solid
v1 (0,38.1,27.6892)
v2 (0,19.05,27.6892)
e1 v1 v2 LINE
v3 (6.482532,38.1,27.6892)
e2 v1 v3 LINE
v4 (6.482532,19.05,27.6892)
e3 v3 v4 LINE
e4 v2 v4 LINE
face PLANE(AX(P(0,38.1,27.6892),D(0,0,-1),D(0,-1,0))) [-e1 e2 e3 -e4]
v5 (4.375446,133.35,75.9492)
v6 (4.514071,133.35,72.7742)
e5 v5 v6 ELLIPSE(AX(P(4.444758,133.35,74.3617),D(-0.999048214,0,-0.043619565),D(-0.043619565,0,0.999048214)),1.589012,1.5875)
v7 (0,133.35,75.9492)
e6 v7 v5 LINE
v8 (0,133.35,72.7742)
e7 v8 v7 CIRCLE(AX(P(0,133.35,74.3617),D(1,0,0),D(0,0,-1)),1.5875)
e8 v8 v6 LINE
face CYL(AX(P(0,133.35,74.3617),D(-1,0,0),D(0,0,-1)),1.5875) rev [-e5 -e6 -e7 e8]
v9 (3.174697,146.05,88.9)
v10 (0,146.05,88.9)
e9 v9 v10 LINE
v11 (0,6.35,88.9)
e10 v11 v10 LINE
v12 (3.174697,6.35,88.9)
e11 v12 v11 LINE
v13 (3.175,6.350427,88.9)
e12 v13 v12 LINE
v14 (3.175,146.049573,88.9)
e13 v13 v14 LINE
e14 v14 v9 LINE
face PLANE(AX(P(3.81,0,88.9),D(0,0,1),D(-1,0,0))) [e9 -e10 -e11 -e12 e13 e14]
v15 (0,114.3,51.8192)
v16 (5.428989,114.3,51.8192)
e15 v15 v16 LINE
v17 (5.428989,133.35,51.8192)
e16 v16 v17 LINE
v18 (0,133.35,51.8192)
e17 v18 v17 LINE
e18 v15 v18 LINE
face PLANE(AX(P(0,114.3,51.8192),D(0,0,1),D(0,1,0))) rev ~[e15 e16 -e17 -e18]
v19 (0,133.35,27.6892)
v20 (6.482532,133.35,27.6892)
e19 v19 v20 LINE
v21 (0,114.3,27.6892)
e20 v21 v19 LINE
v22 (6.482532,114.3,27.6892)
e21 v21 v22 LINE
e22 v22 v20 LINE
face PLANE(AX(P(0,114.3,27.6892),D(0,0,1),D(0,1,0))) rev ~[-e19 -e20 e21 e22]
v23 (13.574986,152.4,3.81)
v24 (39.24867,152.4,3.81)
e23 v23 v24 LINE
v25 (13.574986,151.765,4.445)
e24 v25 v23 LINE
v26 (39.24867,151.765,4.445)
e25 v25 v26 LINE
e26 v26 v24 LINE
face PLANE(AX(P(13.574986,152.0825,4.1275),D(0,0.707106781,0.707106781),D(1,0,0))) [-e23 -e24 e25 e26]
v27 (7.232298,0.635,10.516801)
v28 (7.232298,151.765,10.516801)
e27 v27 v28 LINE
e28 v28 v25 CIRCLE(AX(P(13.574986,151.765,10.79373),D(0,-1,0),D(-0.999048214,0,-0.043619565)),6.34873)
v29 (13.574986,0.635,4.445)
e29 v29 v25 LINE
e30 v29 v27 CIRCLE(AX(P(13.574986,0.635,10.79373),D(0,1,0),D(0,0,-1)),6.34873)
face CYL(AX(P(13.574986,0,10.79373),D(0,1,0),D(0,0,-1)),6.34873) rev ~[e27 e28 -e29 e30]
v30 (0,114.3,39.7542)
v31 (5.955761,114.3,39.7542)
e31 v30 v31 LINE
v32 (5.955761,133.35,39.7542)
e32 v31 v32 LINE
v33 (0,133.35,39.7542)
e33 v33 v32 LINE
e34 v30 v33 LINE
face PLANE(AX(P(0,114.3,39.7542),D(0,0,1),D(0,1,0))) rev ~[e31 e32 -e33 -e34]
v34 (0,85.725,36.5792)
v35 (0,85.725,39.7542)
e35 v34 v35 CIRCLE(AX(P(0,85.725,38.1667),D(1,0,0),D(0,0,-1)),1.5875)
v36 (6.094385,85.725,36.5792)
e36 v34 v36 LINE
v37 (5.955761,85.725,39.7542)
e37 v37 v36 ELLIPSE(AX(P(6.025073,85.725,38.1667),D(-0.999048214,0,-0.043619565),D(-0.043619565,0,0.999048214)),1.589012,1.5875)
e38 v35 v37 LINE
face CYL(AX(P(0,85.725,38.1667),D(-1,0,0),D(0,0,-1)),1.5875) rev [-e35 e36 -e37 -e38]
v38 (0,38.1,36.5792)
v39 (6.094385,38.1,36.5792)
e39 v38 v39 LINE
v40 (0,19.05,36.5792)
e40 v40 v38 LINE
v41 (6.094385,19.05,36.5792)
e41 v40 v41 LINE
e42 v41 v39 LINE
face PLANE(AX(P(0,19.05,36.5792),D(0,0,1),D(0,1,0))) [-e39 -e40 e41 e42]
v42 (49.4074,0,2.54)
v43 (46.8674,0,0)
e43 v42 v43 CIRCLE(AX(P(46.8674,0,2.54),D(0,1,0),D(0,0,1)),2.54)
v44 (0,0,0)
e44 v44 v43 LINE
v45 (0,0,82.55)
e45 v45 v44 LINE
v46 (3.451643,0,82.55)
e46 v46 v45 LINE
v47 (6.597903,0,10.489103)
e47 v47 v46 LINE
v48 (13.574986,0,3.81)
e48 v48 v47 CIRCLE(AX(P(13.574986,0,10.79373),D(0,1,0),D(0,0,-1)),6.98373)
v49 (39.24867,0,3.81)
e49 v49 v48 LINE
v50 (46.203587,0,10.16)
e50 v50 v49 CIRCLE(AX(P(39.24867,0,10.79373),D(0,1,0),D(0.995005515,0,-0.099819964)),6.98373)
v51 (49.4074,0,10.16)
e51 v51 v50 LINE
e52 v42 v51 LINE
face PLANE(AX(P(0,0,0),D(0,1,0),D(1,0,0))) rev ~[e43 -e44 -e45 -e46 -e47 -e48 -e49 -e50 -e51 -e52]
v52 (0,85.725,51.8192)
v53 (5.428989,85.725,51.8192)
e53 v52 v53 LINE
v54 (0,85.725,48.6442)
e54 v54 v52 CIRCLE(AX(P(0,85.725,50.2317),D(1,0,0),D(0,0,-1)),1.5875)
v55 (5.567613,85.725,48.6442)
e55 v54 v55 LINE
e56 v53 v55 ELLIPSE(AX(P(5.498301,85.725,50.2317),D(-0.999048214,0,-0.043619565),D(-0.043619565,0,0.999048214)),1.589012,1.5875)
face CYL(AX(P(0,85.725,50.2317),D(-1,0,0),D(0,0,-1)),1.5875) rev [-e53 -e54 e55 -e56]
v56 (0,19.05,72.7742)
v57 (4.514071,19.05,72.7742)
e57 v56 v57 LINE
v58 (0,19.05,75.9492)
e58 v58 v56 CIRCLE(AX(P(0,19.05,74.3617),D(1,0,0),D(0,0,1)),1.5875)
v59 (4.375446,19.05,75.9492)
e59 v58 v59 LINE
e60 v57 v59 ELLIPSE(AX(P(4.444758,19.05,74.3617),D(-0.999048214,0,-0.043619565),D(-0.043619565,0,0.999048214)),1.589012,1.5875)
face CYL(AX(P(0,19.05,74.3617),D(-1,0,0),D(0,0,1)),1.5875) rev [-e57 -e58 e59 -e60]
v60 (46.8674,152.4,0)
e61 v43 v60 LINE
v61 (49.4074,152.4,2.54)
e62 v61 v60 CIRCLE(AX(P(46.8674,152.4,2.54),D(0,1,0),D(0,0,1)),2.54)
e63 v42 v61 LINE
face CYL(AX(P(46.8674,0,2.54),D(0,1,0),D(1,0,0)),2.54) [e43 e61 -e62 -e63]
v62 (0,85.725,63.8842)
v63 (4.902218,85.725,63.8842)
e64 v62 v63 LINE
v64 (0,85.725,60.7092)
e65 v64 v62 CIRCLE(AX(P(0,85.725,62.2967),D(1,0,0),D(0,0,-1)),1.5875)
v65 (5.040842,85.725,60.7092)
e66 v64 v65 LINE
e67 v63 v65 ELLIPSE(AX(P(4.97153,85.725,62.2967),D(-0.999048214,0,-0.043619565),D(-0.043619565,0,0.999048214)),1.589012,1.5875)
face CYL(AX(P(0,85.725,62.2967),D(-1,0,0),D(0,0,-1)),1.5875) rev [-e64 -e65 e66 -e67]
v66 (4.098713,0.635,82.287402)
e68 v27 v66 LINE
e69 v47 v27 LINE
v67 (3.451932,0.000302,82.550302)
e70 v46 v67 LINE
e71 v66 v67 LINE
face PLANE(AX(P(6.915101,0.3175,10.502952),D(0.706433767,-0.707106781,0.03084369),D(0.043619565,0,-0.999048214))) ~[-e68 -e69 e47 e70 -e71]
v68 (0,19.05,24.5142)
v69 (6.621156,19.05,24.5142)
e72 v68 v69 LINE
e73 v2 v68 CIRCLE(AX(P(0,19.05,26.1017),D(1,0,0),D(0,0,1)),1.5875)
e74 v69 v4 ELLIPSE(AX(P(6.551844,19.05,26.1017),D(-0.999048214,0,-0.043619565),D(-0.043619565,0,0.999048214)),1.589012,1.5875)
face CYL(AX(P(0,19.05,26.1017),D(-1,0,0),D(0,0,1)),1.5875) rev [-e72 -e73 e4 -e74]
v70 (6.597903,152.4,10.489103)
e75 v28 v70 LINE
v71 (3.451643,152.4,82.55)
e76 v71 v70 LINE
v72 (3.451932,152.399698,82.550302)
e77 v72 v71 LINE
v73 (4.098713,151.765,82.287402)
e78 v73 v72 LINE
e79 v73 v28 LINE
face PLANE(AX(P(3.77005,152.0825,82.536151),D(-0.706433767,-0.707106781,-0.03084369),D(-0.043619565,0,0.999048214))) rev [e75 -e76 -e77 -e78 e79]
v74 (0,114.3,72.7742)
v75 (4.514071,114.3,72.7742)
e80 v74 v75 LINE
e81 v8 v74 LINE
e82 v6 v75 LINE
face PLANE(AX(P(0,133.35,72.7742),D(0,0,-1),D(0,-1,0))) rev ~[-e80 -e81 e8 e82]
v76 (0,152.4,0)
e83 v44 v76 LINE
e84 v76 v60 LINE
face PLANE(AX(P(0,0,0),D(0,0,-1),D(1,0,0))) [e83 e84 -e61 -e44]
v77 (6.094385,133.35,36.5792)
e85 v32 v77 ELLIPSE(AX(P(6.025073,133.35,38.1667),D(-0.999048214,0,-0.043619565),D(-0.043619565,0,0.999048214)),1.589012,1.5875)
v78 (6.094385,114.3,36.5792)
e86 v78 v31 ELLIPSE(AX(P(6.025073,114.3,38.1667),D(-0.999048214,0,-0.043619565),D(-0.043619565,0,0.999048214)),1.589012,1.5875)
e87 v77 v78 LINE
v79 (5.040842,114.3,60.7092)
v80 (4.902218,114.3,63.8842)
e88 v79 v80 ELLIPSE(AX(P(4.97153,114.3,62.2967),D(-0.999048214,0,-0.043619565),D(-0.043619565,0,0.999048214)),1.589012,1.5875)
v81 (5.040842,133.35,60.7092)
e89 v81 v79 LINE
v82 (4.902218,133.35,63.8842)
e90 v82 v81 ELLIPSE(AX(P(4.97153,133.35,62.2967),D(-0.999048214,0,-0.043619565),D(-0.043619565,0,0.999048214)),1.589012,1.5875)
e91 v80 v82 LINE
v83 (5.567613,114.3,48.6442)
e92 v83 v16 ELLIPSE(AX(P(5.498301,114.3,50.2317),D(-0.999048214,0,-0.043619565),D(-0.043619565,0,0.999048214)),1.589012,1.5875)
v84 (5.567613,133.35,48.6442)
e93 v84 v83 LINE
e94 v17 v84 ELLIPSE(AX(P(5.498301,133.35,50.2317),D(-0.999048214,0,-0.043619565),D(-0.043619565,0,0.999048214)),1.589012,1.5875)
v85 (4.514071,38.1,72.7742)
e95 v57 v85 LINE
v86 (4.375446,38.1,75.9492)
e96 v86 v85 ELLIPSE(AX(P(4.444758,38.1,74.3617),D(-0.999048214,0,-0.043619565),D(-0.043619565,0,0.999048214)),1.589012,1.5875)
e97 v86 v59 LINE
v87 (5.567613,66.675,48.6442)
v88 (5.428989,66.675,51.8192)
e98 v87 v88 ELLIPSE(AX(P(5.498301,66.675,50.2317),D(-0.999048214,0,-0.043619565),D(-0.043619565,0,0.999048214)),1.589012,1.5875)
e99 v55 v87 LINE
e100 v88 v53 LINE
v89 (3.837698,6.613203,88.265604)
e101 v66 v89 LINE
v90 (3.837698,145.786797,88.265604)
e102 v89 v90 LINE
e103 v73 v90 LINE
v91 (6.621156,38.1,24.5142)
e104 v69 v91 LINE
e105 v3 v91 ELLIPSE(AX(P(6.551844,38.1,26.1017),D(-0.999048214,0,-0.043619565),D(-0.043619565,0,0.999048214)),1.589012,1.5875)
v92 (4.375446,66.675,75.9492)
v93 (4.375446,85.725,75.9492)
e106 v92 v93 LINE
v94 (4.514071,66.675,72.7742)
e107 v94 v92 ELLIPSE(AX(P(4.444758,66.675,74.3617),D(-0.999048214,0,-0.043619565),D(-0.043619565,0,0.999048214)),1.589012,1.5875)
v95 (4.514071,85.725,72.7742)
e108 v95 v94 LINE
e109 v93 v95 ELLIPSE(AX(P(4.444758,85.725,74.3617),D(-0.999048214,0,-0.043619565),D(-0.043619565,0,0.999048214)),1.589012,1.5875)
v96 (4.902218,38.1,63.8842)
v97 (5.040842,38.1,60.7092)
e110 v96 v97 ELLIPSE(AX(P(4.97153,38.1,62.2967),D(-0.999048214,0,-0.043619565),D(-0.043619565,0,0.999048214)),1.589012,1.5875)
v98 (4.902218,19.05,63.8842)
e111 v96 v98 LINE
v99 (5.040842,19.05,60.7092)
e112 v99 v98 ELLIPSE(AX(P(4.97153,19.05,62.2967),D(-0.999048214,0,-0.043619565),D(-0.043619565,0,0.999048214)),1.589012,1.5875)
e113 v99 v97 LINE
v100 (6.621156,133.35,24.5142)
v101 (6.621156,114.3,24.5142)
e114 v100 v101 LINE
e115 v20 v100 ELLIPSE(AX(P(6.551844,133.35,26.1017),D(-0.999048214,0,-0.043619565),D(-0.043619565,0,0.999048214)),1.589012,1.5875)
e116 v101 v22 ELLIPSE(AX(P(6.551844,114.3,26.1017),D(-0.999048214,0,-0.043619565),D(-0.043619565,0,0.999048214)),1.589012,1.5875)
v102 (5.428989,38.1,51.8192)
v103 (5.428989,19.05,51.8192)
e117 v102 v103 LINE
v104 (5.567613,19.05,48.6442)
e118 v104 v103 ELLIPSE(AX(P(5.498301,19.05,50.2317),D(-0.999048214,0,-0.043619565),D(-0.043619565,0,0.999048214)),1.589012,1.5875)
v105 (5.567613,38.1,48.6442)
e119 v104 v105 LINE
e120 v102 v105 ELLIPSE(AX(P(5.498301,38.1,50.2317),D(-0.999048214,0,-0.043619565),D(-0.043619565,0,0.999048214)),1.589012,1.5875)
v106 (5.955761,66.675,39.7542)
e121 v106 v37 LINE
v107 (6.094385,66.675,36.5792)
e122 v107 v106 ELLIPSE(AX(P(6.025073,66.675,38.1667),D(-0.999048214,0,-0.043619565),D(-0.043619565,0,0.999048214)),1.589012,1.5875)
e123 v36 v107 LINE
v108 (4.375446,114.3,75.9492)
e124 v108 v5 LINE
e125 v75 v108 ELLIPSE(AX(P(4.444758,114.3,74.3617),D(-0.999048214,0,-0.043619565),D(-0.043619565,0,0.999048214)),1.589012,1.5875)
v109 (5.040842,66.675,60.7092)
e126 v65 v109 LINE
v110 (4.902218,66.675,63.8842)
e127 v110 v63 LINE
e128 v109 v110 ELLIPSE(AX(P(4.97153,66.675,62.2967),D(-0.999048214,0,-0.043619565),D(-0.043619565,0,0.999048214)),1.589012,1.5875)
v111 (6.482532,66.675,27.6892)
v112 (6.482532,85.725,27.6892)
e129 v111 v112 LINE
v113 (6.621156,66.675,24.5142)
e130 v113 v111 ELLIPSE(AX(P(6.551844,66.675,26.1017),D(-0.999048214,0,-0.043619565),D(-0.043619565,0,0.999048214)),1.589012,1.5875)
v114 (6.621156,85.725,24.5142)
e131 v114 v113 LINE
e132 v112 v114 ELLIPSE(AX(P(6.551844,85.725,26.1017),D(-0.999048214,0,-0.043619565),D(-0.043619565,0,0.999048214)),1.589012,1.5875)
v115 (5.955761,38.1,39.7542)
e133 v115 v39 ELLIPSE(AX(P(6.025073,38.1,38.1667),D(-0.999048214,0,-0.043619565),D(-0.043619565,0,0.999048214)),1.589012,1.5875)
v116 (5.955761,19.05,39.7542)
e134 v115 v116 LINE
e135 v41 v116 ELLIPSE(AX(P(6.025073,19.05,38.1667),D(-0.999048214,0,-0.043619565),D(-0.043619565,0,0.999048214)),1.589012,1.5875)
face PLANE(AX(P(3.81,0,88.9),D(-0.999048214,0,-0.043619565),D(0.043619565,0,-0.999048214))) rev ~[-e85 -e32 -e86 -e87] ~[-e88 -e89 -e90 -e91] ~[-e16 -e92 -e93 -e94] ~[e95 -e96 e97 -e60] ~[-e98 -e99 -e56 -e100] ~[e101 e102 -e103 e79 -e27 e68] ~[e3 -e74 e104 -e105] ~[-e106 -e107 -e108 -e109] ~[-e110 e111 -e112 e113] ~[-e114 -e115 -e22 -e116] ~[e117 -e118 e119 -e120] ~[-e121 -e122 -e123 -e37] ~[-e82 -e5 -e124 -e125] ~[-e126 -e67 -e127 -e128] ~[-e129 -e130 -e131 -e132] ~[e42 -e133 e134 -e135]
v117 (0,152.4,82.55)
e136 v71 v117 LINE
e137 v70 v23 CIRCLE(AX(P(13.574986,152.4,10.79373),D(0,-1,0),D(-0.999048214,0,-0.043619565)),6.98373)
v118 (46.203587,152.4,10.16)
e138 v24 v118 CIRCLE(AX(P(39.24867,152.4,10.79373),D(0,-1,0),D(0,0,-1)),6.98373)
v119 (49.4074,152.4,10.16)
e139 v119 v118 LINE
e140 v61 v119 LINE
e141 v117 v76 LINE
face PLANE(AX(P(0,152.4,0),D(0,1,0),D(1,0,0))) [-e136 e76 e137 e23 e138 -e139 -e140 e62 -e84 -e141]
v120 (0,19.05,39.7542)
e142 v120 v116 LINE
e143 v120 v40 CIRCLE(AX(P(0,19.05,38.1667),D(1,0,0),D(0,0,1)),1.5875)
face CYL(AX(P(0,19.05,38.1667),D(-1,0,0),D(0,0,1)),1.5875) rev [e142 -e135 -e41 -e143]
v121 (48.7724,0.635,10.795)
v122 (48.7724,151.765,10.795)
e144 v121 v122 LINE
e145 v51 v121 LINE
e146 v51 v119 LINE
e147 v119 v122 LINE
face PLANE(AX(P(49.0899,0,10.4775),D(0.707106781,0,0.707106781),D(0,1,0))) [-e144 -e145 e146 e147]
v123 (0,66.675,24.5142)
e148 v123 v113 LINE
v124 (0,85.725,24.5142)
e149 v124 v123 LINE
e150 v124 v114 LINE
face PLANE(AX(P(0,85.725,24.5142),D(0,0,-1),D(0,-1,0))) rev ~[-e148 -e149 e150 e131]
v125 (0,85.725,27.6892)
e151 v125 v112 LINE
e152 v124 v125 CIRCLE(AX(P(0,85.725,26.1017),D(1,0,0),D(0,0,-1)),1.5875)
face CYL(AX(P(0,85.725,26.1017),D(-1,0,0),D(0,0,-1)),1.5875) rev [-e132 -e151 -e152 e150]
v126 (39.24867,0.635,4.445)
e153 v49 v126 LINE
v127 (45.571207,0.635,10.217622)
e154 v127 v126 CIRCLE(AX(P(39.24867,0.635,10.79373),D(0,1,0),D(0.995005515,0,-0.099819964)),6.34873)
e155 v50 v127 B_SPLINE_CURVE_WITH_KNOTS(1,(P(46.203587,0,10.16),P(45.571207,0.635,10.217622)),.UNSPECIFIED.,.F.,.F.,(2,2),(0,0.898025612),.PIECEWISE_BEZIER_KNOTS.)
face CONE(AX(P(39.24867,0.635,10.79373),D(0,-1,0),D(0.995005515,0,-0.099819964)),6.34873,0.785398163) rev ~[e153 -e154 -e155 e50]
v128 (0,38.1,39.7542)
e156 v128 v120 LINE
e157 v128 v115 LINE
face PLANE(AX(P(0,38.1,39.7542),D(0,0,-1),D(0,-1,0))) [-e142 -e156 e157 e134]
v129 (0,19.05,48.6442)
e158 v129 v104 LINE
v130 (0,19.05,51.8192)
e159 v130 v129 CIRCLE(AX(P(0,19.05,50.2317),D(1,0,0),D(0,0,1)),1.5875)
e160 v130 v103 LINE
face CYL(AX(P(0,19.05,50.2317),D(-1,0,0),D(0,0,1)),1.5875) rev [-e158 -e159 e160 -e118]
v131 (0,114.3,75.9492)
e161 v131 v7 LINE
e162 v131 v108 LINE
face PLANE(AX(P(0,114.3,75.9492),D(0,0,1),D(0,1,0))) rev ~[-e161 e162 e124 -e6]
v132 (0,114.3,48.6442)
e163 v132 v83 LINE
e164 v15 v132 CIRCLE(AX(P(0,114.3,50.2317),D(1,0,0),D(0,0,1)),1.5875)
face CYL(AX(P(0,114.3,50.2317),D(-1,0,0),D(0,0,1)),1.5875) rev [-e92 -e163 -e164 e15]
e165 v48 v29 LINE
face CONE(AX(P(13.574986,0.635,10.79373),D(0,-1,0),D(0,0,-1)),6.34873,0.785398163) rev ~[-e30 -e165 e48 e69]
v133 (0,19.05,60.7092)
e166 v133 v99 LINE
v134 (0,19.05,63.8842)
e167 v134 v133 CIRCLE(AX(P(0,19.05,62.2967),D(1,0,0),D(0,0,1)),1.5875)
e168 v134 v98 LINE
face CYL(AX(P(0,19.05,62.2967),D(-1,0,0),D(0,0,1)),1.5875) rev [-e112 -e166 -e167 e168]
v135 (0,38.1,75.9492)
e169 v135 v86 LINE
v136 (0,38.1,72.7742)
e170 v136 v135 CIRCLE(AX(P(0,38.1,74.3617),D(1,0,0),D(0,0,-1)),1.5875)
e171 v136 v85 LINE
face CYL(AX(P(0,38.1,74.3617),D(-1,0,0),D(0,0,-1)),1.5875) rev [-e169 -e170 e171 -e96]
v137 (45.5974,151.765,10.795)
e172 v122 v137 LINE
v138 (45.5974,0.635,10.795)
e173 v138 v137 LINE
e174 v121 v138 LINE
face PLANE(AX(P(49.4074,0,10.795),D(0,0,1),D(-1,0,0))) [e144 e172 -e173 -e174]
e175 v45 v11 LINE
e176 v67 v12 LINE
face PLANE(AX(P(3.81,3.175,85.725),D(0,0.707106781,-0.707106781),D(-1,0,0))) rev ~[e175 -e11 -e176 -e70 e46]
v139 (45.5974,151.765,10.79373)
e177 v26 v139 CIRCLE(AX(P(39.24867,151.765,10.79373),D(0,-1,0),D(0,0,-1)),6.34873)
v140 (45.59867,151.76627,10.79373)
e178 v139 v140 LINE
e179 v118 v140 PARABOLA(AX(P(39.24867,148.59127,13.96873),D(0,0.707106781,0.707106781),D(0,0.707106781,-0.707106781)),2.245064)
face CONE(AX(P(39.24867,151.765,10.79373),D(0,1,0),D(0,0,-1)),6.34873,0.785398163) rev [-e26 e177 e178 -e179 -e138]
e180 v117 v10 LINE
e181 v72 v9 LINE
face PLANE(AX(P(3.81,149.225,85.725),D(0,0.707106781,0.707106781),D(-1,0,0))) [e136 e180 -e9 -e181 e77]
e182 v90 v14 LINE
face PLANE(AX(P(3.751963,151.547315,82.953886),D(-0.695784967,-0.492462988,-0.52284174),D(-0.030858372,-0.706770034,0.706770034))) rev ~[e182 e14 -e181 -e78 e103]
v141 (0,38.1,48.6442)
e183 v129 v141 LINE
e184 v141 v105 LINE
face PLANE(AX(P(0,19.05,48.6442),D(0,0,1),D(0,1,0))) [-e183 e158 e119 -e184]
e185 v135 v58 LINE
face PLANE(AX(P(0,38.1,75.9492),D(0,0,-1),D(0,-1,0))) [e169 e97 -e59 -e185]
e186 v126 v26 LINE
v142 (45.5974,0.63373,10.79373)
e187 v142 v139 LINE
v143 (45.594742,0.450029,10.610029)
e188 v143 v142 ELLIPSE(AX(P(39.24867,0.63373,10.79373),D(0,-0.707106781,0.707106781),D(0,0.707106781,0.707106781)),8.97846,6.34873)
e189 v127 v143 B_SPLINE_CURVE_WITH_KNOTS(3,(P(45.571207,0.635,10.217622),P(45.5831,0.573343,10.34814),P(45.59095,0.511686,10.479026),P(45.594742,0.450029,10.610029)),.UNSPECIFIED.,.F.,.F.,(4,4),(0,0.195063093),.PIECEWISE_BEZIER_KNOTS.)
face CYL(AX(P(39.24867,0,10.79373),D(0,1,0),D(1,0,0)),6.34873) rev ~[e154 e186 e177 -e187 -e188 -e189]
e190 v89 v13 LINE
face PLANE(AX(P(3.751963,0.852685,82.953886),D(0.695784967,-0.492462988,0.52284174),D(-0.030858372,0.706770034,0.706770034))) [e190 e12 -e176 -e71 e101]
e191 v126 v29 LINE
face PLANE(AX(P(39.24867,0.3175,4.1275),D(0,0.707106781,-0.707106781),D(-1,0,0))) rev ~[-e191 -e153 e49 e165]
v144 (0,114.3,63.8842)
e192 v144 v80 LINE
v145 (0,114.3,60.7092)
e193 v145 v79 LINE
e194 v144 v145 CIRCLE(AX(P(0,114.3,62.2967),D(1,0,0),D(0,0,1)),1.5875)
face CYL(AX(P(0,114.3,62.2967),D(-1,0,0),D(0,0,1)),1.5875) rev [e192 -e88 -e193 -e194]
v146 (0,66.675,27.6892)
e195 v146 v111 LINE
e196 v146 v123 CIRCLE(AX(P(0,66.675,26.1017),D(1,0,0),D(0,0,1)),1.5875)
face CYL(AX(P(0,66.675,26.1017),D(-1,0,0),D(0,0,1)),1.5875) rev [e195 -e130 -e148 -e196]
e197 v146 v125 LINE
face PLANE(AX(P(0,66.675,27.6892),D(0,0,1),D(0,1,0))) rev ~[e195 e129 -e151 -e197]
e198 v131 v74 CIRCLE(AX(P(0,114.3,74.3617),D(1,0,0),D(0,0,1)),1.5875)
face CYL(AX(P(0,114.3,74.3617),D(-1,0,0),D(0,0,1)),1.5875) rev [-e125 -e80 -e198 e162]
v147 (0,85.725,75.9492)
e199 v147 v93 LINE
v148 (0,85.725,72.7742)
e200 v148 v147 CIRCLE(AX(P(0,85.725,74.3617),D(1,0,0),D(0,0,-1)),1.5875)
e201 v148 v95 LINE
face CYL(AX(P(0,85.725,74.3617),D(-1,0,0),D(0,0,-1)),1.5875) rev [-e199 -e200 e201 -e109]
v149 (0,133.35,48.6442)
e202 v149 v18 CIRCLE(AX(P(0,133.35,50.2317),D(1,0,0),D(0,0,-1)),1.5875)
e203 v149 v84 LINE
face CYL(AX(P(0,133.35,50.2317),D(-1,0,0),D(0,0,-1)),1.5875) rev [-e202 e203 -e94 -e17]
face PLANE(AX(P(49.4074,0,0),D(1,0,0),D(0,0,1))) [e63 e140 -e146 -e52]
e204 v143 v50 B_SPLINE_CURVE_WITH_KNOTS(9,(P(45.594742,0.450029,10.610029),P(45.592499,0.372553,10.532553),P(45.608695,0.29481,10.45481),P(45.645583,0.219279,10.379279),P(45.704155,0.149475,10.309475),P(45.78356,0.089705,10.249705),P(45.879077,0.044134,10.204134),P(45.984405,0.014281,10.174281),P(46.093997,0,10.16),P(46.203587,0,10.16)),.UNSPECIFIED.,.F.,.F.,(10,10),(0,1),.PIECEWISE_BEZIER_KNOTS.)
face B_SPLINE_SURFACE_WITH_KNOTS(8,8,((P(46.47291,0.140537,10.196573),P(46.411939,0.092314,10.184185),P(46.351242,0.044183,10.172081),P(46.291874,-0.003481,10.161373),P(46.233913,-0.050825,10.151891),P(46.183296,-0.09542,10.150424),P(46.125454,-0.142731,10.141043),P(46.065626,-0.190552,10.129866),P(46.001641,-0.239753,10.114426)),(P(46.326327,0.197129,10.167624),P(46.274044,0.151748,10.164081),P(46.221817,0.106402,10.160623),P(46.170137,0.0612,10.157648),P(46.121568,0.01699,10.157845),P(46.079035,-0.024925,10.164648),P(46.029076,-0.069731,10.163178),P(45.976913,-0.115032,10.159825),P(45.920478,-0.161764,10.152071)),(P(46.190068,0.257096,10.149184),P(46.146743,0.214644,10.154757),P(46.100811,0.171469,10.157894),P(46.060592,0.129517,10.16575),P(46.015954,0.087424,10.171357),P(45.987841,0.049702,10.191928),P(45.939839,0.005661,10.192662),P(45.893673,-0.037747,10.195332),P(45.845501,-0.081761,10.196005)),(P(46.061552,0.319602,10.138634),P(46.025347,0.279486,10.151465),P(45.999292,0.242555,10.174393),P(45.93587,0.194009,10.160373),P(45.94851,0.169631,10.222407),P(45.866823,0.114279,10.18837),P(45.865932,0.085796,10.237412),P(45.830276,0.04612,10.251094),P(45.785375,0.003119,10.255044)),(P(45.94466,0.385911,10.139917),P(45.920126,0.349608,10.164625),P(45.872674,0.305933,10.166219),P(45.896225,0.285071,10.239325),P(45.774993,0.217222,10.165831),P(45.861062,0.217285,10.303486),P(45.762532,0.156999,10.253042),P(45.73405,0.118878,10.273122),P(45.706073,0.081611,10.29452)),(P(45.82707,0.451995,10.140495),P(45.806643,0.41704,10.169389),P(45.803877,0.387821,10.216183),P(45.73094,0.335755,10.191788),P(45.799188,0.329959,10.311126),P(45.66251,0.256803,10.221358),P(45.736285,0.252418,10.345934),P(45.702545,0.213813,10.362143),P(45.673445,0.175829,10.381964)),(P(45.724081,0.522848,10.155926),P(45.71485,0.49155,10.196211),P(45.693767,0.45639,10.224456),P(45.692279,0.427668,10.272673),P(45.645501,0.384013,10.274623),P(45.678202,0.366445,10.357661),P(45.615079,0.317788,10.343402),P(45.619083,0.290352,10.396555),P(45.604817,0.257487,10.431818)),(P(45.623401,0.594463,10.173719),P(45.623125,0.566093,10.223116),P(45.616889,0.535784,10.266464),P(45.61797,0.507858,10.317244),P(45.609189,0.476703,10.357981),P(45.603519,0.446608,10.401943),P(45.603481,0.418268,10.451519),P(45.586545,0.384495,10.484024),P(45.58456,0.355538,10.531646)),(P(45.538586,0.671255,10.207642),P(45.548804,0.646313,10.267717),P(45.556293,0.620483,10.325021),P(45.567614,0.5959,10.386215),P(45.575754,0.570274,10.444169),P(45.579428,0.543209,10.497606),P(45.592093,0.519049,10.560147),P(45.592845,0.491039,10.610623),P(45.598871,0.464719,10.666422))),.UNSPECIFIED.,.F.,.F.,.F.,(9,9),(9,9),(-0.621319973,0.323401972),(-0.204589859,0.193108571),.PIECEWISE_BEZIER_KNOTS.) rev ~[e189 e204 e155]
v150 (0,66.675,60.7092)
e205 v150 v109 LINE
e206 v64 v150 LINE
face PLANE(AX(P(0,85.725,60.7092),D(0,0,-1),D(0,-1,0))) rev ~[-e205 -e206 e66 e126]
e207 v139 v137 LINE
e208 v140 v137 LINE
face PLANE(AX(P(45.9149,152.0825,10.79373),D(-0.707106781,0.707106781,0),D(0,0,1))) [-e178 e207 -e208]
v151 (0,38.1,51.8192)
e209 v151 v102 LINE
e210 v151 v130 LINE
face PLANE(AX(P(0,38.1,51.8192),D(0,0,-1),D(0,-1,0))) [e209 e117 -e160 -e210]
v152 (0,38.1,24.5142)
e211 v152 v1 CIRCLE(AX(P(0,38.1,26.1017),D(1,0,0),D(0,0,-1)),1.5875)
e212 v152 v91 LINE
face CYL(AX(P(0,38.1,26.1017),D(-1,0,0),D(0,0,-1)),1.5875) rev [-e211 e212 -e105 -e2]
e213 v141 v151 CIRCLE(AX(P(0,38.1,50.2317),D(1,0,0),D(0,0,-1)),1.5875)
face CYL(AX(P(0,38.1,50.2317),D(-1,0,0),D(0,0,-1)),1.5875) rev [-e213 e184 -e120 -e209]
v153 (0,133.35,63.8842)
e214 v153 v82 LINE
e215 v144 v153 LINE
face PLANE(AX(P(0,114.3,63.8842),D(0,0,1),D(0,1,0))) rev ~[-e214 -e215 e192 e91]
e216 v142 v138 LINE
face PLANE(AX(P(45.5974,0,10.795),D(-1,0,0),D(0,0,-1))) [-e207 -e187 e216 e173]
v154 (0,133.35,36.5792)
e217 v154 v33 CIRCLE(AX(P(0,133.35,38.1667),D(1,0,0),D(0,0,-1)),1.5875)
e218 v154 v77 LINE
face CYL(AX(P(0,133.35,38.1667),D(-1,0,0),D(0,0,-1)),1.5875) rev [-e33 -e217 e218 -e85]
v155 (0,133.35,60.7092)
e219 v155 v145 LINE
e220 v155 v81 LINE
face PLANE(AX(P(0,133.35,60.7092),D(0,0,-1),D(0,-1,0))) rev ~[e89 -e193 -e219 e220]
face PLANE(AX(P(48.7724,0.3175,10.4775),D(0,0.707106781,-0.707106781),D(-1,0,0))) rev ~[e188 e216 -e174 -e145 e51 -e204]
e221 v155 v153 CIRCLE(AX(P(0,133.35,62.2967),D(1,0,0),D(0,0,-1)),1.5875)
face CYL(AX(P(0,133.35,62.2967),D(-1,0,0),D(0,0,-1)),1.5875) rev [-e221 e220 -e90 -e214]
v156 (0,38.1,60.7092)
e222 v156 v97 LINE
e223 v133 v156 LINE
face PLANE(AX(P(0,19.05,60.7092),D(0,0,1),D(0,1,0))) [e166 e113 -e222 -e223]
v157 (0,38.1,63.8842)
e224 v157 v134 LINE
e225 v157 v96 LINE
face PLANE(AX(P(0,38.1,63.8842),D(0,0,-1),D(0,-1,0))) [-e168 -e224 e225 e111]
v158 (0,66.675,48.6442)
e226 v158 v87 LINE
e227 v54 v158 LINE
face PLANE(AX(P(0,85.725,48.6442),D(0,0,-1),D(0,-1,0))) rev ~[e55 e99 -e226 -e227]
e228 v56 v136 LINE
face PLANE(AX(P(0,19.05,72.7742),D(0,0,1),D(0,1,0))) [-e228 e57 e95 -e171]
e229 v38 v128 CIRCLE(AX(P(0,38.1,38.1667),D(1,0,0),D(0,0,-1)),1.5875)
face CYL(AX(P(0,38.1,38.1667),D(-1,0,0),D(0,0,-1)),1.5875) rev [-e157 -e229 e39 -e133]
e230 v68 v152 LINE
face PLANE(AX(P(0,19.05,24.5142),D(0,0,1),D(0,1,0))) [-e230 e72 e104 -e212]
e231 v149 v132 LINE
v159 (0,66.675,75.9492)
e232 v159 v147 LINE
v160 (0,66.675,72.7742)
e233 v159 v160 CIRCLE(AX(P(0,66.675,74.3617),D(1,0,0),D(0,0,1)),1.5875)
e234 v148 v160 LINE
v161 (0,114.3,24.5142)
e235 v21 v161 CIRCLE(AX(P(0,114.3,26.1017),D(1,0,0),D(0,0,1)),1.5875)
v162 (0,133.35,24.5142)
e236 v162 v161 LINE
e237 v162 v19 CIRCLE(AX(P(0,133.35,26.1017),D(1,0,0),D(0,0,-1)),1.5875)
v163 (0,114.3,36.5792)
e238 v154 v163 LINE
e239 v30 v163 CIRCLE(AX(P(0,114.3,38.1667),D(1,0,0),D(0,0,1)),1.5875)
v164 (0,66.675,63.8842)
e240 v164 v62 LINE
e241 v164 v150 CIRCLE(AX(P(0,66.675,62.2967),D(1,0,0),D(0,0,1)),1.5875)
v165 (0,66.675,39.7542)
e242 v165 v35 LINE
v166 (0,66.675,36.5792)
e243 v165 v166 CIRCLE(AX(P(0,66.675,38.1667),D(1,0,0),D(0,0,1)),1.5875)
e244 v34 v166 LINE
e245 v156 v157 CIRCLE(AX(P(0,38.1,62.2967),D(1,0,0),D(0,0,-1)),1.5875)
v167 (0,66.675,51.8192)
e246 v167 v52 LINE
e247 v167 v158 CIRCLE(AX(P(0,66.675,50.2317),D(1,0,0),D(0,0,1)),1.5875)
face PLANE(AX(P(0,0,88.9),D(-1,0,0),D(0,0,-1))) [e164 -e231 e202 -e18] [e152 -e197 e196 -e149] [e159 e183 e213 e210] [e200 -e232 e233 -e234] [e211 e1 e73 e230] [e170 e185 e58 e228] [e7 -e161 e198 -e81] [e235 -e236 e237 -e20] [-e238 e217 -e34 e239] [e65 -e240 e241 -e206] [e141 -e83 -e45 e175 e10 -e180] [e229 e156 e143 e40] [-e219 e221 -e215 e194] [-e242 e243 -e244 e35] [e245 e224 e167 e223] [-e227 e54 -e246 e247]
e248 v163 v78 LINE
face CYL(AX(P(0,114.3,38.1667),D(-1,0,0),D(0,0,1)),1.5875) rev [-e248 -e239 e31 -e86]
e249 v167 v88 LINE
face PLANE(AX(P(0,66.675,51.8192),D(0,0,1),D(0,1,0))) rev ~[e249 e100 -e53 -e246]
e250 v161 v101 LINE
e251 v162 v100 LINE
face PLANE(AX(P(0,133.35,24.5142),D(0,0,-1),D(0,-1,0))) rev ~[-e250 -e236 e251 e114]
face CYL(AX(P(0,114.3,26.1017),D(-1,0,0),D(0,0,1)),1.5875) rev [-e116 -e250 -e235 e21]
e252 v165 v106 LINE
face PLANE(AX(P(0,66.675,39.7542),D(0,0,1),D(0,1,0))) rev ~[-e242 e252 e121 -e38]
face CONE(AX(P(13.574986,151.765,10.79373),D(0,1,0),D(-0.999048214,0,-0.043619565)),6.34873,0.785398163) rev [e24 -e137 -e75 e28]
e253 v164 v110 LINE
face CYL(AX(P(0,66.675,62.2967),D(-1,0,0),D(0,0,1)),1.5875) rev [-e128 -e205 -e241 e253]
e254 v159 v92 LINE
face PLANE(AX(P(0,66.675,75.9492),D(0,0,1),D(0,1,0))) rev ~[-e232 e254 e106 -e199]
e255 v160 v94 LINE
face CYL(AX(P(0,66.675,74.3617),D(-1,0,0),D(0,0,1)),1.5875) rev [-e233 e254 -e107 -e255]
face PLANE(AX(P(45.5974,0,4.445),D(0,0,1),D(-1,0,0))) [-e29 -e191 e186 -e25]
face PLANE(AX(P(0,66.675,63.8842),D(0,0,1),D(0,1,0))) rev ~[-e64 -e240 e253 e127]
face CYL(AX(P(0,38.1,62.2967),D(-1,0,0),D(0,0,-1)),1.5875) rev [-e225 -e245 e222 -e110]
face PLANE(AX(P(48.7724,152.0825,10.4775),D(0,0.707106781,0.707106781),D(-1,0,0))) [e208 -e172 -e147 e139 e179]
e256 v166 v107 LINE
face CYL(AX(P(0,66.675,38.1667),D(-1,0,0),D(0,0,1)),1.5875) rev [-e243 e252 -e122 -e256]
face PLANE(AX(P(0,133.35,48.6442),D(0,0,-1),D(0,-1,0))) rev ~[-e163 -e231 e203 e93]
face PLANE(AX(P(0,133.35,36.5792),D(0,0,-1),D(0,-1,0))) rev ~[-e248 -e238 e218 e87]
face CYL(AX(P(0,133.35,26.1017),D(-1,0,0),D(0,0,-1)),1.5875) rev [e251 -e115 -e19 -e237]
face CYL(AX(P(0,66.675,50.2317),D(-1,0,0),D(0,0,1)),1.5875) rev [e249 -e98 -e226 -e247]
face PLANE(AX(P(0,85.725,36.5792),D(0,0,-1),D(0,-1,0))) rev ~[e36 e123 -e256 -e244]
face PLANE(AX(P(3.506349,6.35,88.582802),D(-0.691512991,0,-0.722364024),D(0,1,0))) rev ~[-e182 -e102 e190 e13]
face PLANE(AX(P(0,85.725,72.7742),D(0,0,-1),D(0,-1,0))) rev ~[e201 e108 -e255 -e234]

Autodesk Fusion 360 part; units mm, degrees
sketch "Sketch1" plane through (0, 0, 0) normal (0, 1, 0) x (1, 0, 0)
  line L0 (0, 0) -> (49.4074, 0)
  line L1 (49.4074, 0) -> (49.4074, -10.795)
  line L2 (49.4074, -10.795) -> (45.5974, -10.795)
  line L3 (45.5974, -10.795) -> (45.5974, -4.445)
  line L4 (45.5974, -4.445) -> (7.4974, -4.445)
  line L5 (3.81, -88.9) -> (0, -88.9)
  line L6 (0, -88.9) -> (0, 0)
  line L7 (3.81, -88.9) -> (7.4974, -4.445)
  dimension "d3" = 4.445
  dimension "d10" = 6.35
  dimension "d12" = 92.5
  dimension "d13" = 3.81
  dimension "d15" = 88.9
  dimension "d16" = 38.1
extrude "Extrude1" add sketch "Sketch1" along normal blind 152.4
fillet "Fillet1" radius 6.35 2 edges at (45.5974, 76.2, 4.445) (7.4974, 76.2, 4.445)
sketch "Sketch2" plane through (0, 0, 0) normal (1, 0, 0) x (0, 1, 0)
  line L0 (0, 10.1925) -> (152.4, 10.1925)
  line L1 (152.4, 10.1925) -> (152.4, 88.6492)
  line L2 (152.4, 88.6492) -> (0, 88.6492)
  line L3 (0, 88.6492) -> (0, 10.1925)
  line L4 (19.05, 72.7742) -> (38.1, 72.7742)
  arc A0 (38.1, 72.7742) -> (38.1, 75.9492) centre (38.1, 74.3617) ccw
  line L5 (38.1, 75.9492) -> (19.05, 75.9492)
  arc A1 (19.05, 75.9492) -> (19.05, 72.7742) centre (19.05, 74.3617) ccw
  line L6 (19.05, 74.3617) -> (38.1, 74.3617) construction
  line L7 (0, 88.8154, -3.8064) -> (0, 88.6492, 0)
  line L8 (0, 88.6492) -> (152.4, 88.6492)
  line L9 (152.4, 88.6492, 0) -> (152.4, 88.8154, -3.8064)
  line L10 (152.4, 88.8154, -3.8064) -> (0, 88.8154, -3.8064)
  line L11 (19.05, 60.7092) -> (38.1, 60.7092)
  arc A2 (38.1, 60.7092) -> (38.1, 63.8842) centre (38.1, 62.2967) ccw
  line L12 (38.1, 63.8842) -> (19.05, 63.8842)
  arc A3 (19.05, 63.8842) -> (19.05, 60.7092) centre (19.05, 62.2967) ccw
  line L13 (19.05, 48.6442) -> (38.1, 48.6442)
  arc A4 (38.1, 48.6442) -> (38.1, 51.8192) centre (38.1, 50.2317) ccw
  line L14 (38.1, 51.8192) -> (19.05, 51.8192)
  arc A5 (19.05, 51.8192) -> (19.05, 48.6442) centre (19.05, 50.2317) ccw
  line L15 (19.05, 36.5792) -> (38.1, 36.5792)
  arc A6 (38.1, 36.5792) -> (38.1, 39.7542) centre (38.1, 38.1667) ccw
  line L16 (38.1, 39.7542) -> (19.05, 39.7542)
  arc A7 (19.05, 39.7542) -> (19.05, 36.5792) centre (19.05, 38.1667) ccw
  line L17 (19.05, 24.5142) -> (38.1, 24.5142)
  arc A8 (38.1, 24.5142) -> (38.1, 27.6892) centre (38.1, 26.1017) ccw
  line L18 (38.1, 27.6892) -> (19.05, 27.6892)
  arc A9 (19.05, 27.6892) -> (19.05, 24.5142) centre (19.05, 26.1017) ccw
  line L19 (0, 0) -> (0, 88.9)
  line L20 (0, 88.9) -> (152.4, 88.9)
  line L21 (152.4, 88.9) -> (152.4, 0)
  line L22 (152.4, 0) -> (0, 0)
  line L23 (76.2, 88.6492) -> (76.2, 35.56) construction
  arc A10 (133.35, 48.6442) -> (133.35, 51.8192) centre (133.35, 50.2317) ccw
  line L24 (133.35, 36.5792) -> (114.3, 36.5792)
  line L25 (114.3, 75.9492) -> (133.35, 75.9492)
  line L26 (114.3, 27.6892) -> (133.35, 27.6892)
  arc A11 (114.3, 27.6892) -> (114.3, 24.5142) centre (114.3, 26.1017) ccw
  line L27 (133.35, 74.3617) -> (114.3, 74.3617) construction
  line L28 (133.35, 60.7092) -> (114.3, 60.7092)
  line L29 (114.3, 63.8842) -> (133.35, 63.8842)
  line L30 (114.3, 51.8192) -> (133.35, 51.8192)
  arc A12 (133.35, 60.7092) -> (133.35, 63.8842) centre (133.35, 62.2967) ccw
  arc A13 (133.35, 24.5142) -> (133.35, 27.6892) centre (133.35, 26.1017) ccw
  line L31 (114.3, 39.7542) -> (133.35, 39.7542)
  line L32 (133.35, 24.5142) -> (114.3, 24.5142)
  arc A14 (114.3, 39.7542) -> (114.3, 36.5792) centre (114.3, 38.1667) ccw
  line L33 (133.35, 72.7742) -> (114.3, 72.7742)
  arc A15 (133.35, 72.7742) -> (133.35, 75.9492) centre (133.35, 74.3617) ccw
  arc A16 (114.3, 75.9492) -> (114.3, 72.7742) centre (114.3, 74.3617) ccw
  arc A17 (114.3, 63.8842) -> (114.3, 60.7092) centre (114.3, 62.2967) ccw
  line L34 (133.35, 48.6442) -> (114.3, 48.6442)
  arc A18 (133.35, 36.5792) -> (133.35, 39.7542) centre (133.35, 38.1667) ccw
  arc A19 (114.3, 51.8192) -> (114.3, 48.6442) centre (114.3, 50.2317) ccw
  line L35 (66.675, 75.9492) -> (85.725, 75.9492)
  line L36 (66.675, 51.8192) -> (85.725, 51.8192)
  arc A20 (66.675, 75.9492) -> (66.675, 72.7742) centre (66.675, 74.3617) ccw
  line L37 (66.675, 27.6892) -> (85.725, 27.6892)
  line L38 (85.725, 60.7092) -> (66.675, 60.7092)
  line L39 (85.725, 74.3617) -> (66.675, 74.3617) construction
  line L40 (85.725, 24.5142) -> (66.675, 24.5142)
  arc A21 (85.725, 72.7742) -> (85.725, 75.9492) centre (85.725, 74.3617) ccw
  arc A22 (66.675, 27.6892) -> (66.675, 24.5142) centre (66.675, 26.1017) ccw
  arc A23 (85.725, 48.6442) -> (85.725, 51.8192) centre (85.725, 50.2317) ccw
  line L41 (85.725, 48.6442) -> (66.675, 48.6442)
  arc A24 (66.675, 63.8842) -> (66.675, 60.7092) centre (66.675, 62.2967) ccw
  line L42 (66.675, 63.8842) -> (85.725, 63.8842)
  line L43 (85.725, 36.5792) -> (66.675, 36.5792)
  arc A25 (85.725, 24.5142) -> (85.725, 27.6892) centre (85.725, 26.1017) ccw
  arc A26 (85.725, 36.5792) -> (85.725, 39.7542) centre (85.725, 38.1667) ccw
  line L44 (85.725, 72.7742) -> (66.675, 72.7742)
  line L45 (66.675, 39.7542) -> (85.725, 39.7542)
  arc A27 (66.675, 51.8192) -> (66.675, 48.6442) centre (66.675, 50.2317) ccw
  arc A28 (85.725, 60.7092) -> (85.725, 63.8842) centre (85.725, 62.2967) ccw
  arc A29 (66.675, 39.7542) -> (66.675, 36.5792) centre (66.675, 38.1667) ccw
  point P0 (76.2, 75.9492)
  point P1 (76.2, 75.9492)
  dimension "d18" = 3.175
  dimension "d19" = 19.05
  dimension "d20" = 12.7
  dimension "d21" = 19.05
  dimension "d24" = 0
  dimension "d25" = -48.26
extrude "Extrude2" cut sketch "Sketch2" along normal blind 50.8 contours L4 A0 L5 A1 | L11 A2 L12 A3 | L13 A4 L14 A5 | L15 A6 L16 A7 | L17 A8 L18 A9 | A10 L30 L34 A19 | L24 L31 A14 A18 | L25 L33 A15 A16 | L26 A11 A13 L32 | L28 L29 A12 A17 | L35 A20 A21 L44 | L36 A23 L41 A27 | L37 L40 A22 A25 | L38 A24 L42 A28 | L43 A26 L45 A29
chamfer "Chamfer2" distance 6.35 angle 45 2 edges at (1.905, 0, 88.9) (1.905, 152.4, 88.9)
chamfer "Chamfer1" distance 0.635 angle 45 14 edges at (49.4074, 76.2, 10.795) (47.5024, 0, 10.795) (43.7375, 0, 6.3049) (26.4118, 0, 4.445) (9.1851, 0, 6.208) (5.6597, 0, 46.534) (3.81, 76.2, 88.9) (5.6597, 152.4, 46.534) (9.1851, 152.4, 6.208) (26.4118, 152.4, 4.445) (43.7375, 152.4, 6.3049) (47.5024, 152.4, 10.795) (3.9486, 3.175, 85.725) (3.9486, 149.225, 85.725)
fillet "Fillet2" radius 2.54 1 edges at (49.4074, 76.2, 0)
equation "d3 = thickness + 0.025 in"
equation "thickness = 0.15 in"
equation "d13 = thickness"
